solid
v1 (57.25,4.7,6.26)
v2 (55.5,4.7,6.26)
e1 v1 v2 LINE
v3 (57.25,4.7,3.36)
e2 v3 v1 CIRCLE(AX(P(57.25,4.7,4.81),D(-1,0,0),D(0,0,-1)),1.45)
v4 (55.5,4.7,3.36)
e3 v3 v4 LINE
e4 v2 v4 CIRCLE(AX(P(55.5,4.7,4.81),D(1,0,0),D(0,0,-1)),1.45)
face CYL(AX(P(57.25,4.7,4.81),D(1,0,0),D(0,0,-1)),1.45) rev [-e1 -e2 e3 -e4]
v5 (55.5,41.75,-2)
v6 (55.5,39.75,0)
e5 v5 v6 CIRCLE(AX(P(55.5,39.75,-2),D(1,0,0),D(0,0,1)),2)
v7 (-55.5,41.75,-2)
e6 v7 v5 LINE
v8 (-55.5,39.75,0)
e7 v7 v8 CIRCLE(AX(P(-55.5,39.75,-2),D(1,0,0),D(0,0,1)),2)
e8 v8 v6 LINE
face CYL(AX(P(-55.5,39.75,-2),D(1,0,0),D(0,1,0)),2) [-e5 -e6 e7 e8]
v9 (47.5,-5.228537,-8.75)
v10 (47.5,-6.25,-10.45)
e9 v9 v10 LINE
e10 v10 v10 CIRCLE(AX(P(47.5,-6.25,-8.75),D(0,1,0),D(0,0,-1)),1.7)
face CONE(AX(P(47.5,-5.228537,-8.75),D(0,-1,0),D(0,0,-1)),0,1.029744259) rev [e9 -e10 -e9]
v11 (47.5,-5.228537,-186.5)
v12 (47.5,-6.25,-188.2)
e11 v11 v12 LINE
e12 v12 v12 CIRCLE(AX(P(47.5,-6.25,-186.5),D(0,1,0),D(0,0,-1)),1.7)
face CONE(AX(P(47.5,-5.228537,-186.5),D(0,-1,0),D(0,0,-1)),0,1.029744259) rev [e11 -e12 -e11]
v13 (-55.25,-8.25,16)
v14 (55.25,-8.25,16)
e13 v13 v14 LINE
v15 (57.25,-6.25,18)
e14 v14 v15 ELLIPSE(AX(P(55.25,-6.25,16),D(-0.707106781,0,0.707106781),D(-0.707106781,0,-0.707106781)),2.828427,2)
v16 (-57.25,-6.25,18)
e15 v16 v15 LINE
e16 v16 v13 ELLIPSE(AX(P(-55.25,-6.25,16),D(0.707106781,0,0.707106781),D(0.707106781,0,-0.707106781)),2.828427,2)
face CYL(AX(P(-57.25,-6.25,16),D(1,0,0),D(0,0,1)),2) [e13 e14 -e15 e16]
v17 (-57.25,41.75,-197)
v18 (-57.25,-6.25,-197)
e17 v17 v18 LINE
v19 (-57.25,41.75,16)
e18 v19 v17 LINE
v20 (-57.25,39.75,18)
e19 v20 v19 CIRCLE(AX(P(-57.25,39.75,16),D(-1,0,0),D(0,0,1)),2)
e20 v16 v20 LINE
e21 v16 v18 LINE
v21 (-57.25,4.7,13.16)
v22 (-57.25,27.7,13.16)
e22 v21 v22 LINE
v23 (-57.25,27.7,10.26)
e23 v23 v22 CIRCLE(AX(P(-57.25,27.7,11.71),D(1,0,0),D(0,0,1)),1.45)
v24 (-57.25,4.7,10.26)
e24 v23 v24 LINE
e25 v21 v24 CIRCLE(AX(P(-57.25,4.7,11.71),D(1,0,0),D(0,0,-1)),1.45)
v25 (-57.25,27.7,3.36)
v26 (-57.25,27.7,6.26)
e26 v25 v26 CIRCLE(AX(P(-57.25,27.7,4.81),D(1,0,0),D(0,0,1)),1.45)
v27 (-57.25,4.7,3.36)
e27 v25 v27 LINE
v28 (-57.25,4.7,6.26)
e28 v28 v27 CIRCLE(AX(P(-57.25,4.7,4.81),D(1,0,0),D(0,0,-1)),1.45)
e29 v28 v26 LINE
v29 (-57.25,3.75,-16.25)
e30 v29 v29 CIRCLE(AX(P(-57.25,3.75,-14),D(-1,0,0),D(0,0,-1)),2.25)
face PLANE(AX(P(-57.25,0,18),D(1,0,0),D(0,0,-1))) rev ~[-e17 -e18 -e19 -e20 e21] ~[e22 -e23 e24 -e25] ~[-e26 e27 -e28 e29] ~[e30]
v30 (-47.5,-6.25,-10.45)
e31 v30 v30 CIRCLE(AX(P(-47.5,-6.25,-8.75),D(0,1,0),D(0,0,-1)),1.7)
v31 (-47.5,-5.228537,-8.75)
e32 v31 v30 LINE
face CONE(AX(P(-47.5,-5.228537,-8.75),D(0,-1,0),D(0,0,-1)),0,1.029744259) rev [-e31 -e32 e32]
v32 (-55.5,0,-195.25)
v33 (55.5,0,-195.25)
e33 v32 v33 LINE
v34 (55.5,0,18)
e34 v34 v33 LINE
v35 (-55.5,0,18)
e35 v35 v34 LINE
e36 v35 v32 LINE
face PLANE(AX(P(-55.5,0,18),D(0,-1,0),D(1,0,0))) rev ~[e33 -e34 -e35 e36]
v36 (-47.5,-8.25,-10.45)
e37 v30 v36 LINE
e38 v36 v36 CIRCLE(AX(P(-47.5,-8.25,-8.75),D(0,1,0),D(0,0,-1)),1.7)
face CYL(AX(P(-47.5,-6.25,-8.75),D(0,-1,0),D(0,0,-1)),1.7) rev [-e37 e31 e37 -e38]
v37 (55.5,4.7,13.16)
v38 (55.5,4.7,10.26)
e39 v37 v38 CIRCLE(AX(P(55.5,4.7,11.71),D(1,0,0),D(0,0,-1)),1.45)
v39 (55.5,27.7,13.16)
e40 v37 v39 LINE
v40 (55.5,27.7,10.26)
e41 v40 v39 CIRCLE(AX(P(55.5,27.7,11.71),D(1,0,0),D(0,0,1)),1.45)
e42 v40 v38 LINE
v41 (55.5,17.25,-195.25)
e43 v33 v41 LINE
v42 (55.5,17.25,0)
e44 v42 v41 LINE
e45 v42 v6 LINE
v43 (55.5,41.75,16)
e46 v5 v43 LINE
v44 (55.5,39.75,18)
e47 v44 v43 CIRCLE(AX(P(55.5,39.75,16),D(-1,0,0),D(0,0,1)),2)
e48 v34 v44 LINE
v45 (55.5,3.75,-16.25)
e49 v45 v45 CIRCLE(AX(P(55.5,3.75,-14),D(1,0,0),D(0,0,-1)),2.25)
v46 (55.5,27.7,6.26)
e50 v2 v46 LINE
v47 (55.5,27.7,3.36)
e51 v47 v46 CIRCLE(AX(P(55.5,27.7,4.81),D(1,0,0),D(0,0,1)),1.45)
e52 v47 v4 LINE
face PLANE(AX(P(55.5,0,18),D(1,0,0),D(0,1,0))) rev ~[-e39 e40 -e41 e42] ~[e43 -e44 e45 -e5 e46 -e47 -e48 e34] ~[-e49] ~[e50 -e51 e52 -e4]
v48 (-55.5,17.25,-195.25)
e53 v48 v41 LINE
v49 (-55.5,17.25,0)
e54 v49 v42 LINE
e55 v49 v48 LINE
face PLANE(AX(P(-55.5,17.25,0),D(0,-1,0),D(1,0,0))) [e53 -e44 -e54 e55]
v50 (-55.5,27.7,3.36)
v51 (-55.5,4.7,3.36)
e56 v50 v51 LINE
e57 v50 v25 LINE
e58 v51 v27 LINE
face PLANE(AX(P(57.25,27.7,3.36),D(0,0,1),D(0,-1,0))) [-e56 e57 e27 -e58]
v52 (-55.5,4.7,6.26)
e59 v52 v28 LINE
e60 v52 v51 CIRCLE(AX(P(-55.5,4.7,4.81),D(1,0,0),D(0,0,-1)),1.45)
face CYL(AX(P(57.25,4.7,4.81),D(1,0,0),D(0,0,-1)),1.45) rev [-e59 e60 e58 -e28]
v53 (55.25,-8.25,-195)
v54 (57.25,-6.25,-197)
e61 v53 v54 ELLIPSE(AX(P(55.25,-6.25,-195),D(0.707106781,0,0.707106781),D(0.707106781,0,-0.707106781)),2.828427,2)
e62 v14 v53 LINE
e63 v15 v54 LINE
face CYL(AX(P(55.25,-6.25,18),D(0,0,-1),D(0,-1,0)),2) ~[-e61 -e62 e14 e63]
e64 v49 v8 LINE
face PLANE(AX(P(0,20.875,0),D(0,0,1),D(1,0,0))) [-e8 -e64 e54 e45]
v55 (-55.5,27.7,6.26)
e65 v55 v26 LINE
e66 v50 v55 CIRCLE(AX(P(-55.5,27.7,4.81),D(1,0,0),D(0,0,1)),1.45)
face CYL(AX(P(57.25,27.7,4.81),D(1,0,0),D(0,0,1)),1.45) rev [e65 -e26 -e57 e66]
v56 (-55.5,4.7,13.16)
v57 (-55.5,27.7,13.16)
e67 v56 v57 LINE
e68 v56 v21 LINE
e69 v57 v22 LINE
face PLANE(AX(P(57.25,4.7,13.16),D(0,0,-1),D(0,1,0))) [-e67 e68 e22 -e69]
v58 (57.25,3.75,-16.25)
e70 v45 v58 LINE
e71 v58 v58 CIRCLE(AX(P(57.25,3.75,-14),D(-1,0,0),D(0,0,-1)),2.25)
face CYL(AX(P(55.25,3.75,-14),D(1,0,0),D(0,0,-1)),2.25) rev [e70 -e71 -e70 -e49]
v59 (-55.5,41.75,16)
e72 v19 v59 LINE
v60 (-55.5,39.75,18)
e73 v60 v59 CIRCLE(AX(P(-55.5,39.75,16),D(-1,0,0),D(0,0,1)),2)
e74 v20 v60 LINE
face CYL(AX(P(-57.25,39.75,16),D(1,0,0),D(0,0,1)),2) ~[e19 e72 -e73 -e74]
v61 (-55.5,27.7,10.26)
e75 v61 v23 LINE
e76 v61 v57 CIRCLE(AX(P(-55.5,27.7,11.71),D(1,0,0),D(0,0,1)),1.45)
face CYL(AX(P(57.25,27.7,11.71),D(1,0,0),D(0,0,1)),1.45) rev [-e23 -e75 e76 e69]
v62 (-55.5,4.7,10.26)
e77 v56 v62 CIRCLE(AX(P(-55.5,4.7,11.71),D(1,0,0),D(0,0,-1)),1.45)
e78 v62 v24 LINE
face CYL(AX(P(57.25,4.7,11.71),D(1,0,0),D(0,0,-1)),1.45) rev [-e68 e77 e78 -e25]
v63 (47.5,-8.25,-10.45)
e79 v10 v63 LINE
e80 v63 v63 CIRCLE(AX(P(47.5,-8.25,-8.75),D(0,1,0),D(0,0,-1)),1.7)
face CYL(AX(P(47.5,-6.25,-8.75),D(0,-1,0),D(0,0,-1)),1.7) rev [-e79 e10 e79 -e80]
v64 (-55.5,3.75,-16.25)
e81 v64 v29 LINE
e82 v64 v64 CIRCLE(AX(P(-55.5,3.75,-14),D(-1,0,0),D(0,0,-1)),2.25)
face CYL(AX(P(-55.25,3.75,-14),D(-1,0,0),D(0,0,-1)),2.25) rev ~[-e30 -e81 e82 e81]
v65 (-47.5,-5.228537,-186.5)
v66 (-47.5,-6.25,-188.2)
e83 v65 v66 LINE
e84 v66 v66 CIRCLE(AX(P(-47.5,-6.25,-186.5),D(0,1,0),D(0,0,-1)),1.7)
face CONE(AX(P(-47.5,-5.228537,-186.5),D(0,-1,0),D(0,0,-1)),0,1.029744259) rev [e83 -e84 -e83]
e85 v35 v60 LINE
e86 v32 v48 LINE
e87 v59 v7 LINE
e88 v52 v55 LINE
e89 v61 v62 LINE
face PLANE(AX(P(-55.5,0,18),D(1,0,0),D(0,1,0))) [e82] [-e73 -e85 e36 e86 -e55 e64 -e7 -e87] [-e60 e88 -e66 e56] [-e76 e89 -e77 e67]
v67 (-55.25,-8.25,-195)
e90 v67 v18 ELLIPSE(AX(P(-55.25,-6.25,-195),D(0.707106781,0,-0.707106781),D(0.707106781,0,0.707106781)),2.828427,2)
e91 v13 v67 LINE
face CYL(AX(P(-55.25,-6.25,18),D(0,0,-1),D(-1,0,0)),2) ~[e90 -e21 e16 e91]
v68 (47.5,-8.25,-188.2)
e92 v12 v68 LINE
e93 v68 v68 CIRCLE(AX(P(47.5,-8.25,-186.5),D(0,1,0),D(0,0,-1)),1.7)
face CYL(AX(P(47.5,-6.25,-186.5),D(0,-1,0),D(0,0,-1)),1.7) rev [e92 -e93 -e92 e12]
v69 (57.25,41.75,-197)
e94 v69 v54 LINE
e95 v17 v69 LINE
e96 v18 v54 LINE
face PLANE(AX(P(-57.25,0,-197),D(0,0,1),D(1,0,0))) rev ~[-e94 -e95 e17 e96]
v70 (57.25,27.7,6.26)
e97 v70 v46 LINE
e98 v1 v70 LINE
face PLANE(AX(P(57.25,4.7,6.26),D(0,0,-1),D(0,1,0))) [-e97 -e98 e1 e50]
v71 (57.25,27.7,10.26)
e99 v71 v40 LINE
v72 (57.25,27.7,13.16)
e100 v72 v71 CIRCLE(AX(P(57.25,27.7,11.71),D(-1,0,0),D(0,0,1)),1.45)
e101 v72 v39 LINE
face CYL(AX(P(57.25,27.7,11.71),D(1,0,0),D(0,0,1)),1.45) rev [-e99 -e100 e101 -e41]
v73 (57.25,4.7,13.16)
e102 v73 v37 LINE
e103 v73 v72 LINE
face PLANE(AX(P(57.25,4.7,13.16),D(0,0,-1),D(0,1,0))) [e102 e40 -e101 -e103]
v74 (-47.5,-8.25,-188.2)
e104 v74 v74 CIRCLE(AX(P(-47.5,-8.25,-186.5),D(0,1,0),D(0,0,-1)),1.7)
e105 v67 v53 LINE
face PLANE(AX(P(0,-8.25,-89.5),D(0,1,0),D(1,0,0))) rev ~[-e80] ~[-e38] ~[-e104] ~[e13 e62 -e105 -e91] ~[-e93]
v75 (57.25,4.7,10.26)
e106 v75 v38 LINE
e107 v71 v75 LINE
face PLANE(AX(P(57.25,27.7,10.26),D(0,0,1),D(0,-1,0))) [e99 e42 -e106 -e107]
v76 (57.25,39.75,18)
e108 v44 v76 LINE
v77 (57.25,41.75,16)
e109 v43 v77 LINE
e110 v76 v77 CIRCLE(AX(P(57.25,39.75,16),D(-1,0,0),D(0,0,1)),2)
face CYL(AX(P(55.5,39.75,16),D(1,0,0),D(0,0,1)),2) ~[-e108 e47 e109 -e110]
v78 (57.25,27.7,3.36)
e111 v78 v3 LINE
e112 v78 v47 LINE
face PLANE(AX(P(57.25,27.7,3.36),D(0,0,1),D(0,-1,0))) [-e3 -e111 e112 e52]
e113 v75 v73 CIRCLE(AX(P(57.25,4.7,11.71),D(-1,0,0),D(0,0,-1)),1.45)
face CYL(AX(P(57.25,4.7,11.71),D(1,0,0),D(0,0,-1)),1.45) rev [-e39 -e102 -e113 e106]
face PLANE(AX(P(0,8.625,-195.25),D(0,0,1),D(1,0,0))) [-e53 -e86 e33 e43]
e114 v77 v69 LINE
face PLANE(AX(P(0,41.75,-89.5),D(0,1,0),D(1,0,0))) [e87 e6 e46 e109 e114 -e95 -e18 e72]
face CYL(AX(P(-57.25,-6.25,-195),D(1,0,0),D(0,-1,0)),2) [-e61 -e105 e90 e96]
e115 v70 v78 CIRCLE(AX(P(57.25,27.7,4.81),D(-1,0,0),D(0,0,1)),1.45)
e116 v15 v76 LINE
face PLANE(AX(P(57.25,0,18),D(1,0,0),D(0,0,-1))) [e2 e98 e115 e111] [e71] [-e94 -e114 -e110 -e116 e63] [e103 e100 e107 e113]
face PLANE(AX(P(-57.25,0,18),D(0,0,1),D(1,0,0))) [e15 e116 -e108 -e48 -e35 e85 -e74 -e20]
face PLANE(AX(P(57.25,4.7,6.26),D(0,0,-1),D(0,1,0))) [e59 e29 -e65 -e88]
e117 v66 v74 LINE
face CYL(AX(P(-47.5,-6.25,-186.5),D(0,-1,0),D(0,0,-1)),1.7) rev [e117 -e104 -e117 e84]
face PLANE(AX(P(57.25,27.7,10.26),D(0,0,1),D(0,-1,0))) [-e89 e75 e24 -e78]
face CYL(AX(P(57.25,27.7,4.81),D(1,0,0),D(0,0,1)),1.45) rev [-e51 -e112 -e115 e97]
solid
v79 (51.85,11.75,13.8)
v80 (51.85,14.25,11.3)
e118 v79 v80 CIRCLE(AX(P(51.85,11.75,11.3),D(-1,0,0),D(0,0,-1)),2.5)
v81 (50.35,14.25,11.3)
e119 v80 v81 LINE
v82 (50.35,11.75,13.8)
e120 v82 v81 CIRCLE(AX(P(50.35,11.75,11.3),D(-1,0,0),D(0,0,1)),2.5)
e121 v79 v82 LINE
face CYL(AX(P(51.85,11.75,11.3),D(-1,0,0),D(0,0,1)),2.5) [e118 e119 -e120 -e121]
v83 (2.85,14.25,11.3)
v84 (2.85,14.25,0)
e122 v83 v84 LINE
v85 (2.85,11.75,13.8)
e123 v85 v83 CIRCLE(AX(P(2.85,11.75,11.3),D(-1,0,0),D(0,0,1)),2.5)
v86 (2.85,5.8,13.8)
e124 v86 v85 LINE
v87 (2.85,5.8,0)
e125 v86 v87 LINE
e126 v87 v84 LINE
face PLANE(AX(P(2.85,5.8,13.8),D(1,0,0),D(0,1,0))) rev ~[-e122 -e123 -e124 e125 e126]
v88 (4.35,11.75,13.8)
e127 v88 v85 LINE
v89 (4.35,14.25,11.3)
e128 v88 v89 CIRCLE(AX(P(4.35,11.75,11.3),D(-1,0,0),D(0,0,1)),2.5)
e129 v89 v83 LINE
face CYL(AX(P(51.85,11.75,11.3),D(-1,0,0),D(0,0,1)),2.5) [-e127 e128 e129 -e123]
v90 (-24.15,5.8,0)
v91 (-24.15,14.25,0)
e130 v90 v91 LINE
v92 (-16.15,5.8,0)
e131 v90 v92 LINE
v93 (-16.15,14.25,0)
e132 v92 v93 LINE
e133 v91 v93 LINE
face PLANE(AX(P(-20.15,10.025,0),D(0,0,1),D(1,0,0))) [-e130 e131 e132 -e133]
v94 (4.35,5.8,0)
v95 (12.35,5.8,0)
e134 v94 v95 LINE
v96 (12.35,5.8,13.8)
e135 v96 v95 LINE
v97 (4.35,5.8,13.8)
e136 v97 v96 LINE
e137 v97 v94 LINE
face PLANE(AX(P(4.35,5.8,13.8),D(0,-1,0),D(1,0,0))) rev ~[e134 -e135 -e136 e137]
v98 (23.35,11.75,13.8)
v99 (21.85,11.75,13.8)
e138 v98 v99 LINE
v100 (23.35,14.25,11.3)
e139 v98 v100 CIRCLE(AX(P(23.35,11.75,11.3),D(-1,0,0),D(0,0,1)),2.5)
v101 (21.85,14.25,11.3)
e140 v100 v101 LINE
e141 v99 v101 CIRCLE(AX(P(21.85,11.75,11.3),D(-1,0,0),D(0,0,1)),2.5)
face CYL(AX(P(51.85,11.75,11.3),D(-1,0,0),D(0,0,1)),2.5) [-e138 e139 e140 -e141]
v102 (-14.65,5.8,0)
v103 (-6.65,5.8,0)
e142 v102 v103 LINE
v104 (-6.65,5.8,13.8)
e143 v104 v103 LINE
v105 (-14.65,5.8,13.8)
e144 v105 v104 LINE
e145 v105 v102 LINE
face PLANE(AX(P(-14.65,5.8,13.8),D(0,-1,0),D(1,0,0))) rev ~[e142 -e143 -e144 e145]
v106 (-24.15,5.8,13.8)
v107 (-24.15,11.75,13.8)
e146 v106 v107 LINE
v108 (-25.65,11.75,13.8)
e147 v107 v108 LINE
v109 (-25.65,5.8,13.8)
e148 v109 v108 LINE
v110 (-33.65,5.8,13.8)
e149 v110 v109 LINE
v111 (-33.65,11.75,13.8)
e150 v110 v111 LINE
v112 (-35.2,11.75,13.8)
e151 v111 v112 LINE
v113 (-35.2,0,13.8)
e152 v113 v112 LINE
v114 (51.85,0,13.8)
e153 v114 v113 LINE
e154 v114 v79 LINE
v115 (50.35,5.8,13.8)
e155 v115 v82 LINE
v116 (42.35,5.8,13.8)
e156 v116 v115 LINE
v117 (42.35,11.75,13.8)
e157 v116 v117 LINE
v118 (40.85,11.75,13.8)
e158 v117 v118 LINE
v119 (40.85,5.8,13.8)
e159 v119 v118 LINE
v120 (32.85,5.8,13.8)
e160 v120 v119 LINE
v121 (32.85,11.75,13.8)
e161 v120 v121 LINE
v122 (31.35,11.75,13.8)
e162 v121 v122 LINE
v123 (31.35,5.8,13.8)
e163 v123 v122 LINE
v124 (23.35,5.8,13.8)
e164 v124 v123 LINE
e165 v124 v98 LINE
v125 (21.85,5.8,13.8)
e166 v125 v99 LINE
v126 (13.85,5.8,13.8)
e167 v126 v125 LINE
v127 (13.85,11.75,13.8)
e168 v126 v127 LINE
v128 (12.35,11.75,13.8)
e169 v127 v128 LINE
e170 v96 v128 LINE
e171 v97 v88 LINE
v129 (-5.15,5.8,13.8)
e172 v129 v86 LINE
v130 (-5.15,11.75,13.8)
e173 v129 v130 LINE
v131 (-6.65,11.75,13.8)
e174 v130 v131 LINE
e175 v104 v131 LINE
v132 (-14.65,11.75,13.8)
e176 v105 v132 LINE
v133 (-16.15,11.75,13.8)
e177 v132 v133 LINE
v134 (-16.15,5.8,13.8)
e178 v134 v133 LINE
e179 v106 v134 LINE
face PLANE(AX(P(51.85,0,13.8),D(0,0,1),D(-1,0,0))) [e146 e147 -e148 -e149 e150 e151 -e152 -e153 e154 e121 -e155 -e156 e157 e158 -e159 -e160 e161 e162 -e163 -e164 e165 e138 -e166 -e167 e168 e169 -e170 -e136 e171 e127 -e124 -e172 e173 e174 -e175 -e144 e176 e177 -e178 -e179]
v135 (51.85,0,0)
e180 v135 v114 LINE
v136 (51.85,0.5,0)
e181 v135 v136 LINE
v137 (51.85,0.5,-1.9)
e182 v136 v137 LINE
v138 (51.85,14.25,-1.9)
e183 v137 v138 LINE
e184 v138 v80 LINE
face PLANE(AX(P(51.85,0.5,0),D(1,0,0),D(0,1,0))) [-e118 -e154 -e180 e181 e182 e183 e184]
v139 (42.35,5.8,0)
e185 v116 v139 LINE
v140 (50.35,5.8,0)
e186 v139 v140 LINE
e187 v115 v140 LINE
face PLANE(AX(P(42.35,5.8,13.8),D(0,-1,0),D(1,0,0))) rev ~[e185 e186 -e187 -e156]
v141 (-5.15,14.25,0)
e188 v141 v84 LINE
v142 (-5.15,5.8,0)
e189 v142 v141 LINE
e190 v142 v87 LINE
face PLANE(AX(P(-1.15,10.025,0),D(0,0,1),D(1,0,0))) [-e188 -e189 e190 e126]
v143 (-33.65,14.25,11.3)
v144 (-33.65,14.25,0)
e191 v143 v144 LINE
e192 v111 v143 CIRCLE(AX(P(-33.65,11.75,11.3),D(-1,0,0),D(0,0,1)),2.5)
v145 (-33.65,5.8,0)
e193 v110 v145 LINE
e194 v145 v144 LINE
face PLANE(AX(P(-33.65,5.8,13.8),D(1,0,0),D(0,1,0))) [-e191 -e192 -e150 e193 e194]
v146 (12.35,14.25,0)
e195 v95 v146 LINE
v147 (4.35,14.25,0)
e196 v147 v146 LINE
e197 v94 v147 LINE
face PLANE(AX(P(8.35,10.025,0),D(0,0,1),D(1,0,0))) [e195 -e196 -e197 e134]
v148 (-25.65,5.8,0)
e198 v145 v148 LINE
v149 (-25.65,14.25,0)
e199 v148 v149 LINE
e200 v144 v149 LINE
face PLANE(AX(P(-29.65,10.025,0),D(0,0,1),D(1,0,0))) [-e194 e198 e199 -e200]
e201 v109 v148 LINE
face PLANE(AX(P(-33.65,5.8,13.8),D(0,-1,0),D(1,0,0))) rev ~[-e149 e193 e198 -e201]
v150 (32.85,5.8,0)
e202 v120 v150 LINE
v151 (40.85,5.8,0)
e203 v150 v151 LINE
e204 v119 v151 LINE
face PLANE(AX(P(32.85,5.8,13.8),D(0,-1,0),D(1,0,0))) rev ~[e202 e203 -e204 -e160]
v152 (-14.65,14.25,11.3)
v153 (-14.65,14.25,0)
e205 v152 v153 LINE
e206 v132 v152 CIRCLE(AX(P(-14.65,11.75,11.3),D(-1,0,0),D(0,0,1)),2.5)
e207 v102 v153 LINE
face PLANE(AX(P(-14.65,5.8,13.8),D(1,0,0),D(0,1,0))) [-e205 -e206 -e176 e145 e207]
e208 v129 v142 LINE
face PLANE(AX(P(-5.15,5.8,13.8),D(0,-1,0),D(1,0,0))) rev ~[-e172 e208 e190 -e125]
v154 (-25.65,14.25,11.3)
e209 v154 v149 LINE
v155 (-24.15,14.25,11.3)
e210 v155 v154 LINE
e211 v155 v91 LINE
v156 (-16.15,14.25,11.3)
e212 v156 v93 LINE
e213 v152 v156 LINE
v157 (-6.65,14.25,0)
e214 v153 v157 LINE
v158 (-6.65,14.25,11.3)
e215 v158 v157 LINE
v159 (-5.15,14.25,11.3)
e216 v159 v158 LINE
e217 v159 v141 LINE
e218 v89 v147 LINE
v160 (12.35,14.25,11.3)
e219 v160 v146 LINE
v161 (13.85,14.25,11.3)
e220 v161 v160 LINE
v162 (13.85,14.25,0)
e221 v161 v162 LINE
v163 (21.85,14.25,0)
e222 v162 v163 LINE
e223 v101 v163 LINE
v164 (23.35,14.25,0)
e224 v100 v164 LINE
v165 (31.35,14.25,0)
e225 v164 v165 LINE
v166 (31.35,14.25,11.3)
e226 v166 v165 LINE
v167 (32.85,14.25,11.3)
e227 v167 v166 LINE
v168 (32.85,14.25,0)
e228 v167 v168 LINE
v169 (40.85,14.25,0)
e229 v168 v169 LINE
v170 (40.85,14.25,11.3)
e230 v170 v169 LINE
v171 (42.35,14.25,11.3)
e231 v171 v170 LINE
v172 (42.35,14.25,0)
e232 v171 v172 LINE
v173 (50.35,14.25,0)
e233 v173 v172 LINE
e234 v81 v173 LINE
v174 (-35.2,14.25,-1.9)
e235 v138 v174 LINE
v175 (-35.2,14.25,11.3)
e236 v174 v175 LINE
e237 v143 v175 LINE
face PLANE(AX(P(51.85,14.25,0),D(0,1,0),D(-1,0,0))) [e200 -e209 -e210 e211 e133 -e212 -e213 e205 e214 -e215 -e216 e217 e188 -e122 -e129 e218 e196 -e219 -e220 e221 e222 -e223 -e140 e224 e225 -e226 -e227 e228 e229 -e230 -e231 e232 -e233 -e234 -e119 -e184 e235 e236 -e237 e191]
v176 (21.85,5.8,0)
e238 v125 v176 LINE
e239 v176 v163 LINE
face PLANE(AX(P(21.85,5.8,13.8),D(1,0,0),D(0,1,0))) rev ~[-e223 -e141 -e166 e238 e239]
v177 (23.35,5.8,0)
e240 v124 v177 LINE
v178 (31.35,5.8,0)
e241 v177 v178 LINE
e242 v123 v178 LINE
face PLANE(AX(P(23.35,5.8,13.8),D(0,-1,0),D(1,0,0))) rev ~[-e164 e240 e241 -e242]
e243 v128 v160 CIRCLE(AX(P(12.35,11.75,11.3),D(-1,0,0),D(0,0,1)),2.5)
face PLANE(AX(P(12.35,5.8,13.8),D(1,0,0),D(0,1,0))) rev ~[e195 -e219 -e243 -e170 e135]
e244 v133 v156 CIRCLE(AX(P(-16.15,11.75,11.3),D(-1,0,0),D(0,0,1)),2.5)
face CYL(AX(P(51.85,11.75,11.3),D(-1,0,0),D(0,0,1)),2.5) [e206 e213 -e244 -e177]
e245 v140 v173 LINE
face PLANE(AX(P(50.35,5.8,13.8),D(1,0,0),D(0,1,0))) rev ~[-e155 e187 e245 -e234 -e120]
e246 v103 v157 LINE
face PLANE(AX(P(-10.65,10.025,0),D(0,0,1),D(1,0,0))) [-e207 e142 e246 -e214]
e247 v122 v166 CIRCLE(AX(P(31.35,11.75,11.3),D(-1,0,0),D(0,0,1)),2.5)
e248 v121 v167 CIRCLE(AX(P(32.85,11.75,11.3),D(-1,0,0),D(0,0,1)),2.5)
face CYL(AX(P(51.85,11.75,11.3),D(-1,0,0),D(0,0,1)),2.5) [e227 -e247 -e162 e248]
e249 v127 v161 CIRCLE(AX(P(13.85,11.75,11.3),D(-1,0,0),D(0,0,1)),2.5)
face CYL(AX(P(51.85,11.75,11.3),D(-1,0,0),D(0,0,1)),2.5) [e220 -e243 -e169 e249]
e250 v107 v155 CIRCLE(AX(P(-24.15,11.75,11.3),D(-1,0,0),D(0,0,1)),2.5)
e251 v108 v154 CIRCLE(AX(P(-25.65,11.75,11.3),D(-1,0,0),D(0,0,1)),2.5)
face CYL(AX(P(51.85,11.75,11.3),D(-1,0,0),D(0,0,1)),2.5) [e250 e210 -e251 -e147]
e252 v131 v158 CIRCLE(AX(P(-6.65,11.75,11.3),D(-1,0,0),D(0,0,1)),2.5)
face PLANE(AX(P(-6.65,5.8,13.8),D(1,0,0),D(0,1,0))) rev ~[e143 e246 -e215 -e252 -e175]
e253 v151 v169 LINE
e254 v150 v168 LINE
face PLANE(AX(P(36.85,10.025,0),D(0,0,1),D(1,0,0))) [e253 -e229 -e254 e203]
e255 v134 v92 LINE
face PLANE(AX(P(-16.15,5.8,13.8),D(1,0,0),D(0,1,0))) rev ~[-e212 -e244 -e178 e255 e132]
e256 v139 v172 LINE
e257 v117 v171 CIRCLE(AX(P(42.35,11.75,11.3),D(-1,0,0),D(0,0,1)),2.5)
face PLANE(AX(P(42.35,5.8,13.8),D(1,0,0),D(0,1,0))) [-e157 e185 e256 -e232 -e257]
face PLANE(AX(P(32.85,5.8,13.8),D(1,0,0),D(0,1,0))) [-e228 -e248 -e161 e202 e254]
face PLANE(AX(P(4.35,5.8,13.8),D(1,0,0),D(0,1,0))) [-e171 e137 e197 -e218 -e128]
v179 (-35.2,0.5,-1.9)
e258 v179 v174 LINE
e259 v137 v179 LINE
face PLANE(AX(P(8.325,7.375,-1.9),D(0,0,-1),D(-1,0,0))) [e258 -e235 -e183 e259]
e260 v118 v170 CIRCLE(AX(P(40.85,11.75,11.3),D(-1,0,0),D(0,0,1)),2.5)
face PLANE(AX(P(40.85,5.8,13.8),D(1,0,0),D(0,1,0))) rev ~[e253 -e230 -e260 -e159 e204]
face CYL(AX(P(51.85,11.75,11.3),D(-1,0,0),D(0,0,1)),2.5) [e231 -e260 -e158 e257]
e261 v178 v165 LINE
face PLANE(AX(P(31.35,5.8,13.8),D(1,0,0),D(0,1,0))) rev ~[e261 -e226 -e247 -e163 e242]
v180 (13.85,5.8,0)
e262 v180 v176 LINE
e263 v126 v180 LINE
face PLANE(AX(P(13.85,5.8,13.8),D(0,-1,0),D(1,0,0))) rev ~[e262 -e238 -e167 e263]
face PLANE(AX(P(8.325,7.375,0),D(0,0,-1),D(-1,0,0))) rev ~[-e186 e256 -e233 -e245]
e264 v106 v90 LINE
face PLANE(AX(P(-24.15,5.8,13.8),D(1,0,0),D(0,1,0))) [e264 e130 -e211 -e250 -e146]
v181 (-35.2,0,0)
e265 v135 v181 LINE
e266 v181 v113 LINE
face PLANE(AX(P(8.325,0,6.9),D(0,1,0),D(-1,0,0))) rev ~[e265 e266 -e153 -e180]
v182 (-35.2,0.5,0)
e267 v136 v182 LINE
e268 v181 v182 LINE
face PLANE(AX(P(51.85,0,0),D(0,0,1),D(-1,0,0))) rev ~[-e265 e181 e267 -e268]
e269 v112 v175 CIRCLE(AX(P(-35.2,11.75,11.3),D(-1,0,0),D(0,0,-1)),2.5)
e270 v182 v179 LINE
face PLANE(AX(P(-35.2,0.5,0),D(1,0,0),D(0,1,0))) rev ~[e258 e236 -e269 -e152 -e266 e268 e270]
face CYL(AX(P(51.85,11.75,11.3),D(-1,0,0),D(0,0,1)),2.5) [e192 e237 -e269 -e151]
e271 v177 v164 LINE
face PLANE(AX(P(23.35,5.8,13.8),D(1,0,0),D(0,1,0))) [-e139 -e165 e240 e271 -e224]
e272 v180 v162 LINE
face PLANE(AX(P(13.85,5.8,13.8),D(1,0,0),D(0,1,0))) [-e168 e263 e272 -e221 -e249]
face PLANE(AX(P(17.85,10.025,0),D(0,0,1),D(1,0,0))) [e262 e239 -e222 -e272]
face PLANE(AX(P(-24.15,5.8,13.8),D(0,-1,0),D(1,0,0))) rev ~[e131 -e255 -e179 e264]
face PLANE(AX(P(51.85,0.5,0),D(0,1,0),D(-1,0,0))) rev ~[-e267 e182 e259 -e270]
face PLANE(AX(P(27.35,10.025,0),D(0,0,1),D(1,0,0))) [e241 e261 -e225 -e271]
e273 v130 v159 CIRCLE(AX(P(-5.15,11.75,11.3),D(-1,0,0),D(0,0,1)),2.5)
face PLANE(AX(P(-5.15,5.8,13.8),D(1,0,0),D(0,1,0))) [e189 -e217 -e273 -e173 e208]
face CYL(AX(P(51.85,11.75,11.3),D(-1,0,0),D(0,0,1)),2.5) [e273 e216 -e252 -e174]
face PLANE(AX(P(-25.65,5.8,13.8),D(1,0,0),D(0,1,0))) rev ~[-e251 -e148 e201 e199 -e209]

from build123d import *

# Parameters (mm, degrees)
SKETCH1_W                     = 114.5
SKETCH1_H                     = 215
BOSS_EXTRUDE1_DEPTH           = 41.75
BOSS_EXTRUDE1_DEPTH_BACK      = 8.25
SKETCH2_W                     = 111
SKETCH2_H                     = 41.75
CUT_EXTRUDE1_DEPTH            = 18
CUT_EXTRUDE2_DEPTH            = 115.5
FILLET1_R                     = 2
SKETCH4_W                     = 87.05
SKETCH4_H                     = 13.8
BOSS_EXTRUDE2_DEPTH           = 14.25
SKETCH7_W                     = 111
SKETCH7_H                     = 17.25
CUT_EXTRUDE4_DEPTH            = 195.25
FILLET2_R                     = 2.5
SKETCH6_W                     = 8
SKETCH6_H                     = 8.45
CUT_EXTRUDE3_DEPTH            = 13.8
SKETCH9_W                     = 87.05
SKETCH9_H                     = 13.75
BOSS_EXTRUDE6_DEPTH           = 1.9
LPATTERN1_COUNT               = 9
LPATTERN1_PITCH               = 9.5
M3_CLEARANCE_HOLE2_AT_2_COUNT = 2
M3_CLEARANCE_HOLE2_AT_2_PITCH = 95
M3_CLEARANCE_HOLE2_AT_3_COUNT = 2
M3_CLEARANCE_HOLE2_AT_3_PITCH = 201.544194905
M3_CLEARANCE_HOLE2_AT_4_COUNT = 2
M3_CLEARANCE_HOLE2_AT_4_PITCH = 177.75


with BuildPart() as part:
    # Sketch1 → Boss-Extrude1 (new body, two sides)
    with BuildSketch(Plane(origin=(0, 0, 0), x_dir=(1, 0, 0), z_dir=(0, 1, 0))) as boss_extrude1_sk:
        with Locations((0, 89.5)):
            Rectangle(SKETCH1_W, SKETCH1_H)
    extrude(amount=BOSS_EXTRUDE1_DEPTH)
    extrude(boss_extrude1_sk.sketch, amount=-BOSS_EXTRUDE1_DEPTH_BACK)

    # Sketch2 → Cut-Extrude1 (cut)
    with BuildSketch(Plane.XY.offset(18)):
        with Locations((0, 20.875)):
            Rectangle(SKETCH2_W, SKETCH2_H)
    extrude(amount=-CUT_EXTRUDE1_DEPTH, mode=Mode.SUBTRACT)

    # Sketch3 → Cut-Extrude2 (cut, through all)
    with BuildSketch(Plane(origin=(57.25, 0, 0), x_dir=(0, 0, -1), z_dir=(1, 0, 0))):
        with BuildLine():
            Line((-10.26, 27.7), (-10.26, 4.7))
            ThreePointArc((-10.26, 4.7), (-11.71, 3.25), (-13.16, 4.7))
            Line((-13.16, 4.7), (-13.16, 27.7))
            ThreePointArc((-13.16, 27.7), (-11.71, 29.15), (-10.26, 27.7))
        make_face()
        with BuildLine():
            Line((-3.36, 27.7), (-3.36, 4.7))
            ThreePointArc((-3.36, 4.7), (-4.81, 3.25), (-6.26, 4.7))
            Line((-6.26, 4.7), (-6.26, 27.7))
            ThreePointArc((-6.26, 27.7), (-4.81, 29.15), (-3.36, 27.7))
        make_face()
    extrude(amount=-CUT_EXTRUDE2_DEPTH, mode=Mode.SUBTRACT)

    # Fillet1
    fillet1_edges = [part.edges().sort_by_distance(p)[0] for p in [
        (57.25, -8.25, -89.5),
        (-56.375, 41.75, 18),
        (0, -8.25, -197),
        (56.375, 41.75, 18),
        (0, 41.75, 0),
        (-57.25, -8.25, -89.5),
        (0, -8.25, 18),
    ]]
    fillet(fillet1_edges, radius=FILLET1_R)

    # Sketch7 → Cut-Extrude4 (cut)
    with BuildSketch(Plane.XY):
        with Locations((0, 8.625)):
            Rectangle(SKETCH7_W, SKETCH7_H)
    extrude(amount=-CUT_EXTRUDE4_DEPTH, mode=Mode.SUBTRACT)

    # Sketch13 → M3 Clearance Hole2 (revolve, cut)
    with BuildSketch(Plane(origin=(-47.5, -8.25, -8.75), x_dir=(0, 0, -1), z_dir=(1, 0, 0))):
        Polygon((0, 0), (0, 3.021463052), (1.7, 2), (1.7, 0), align=None)
    m3_clearance_hole2 = revolve(axis=Axis((-47.5, -14.6, -8.75), (0, 1, 0)), mode=Mode.SUBTRACT)

    # M3 Clearance Hole2 at 2: M3 Clearance Hole2 ×2
    with Locations(*[(i * M3_CLEARANCE_HOLE2_AT_2_PITCH, 0, 0) for i in range(1, M3_CLEARANCE_HOLE2_AT_2_COUNT)]):
        add(m3_clearance_hole2, mode=Mode.SUBTRACT)

    # M3 Clearance Hole2 at 3: M3 Clearance Hole2 ×2
    with Locations(*[Vector(0.471360637, 0, -0.881940559) * (i * M3_CLEARANCE_HOLE2_AT_3_PITCH) for i in range(1, M3_CLEARANCE_HOLE2_AT_3_COUNT)]):
        add(m3_clearance_hole2, mode=Mode.SUBTRACT)

    # M3 Clearance Hole2 at 4: M3 Clearance Hole2 ×2
    with Locations(*[(0, 0, -i * M3_CLEARANCE_HOLE2_AT_4_PITCH) for i in range(1, M3_CLEARANCE_HOLE2_AT_4_COUNT)]):
        add(m3_clearance_hole2, mode=Mode.SUBTRACT)

    # Sketch15 → M4 Clearance Hole1 (revolve, cut)
    with BuildSketch(Plane(origin=(57.25, 3.75, -14), x_dir=(0, 0, -1), z_dir=(0, 1, 0))):
        Polygon((0, 0), (0, 3.351936393), (2.25, 2), (2.25, 0), align=None)
    m4_clearance_hole1 = revolve(axis=Axis((63.6, 3.75, -14), (-1, 0, 0)), mode=Mode.SUBTRACT)

    # M4 Hole Other Side: M4 Clearance Hole1 across plane
    add(m4_clearance_hole1.mirror(Plane(origin=(0, 0, 0), x_dir=(0, 0, 1), z_dir=(1, 0, 0))), mode=Mode.SUBTRACT)


with BuildPart() as body_2:
    # Sketch4 → Boss-Extrude2 (new body)
    with BuildSketch(Plane(origin=(0, 0, 0), x_dir=(-1, 0, 0), z_dir=(0, 1, 0))):
        with Locations((-8.325, 6.9)):
            Rectangle(SKETCH4_W, SKETCH4_H)
    extrude(amount=BOSS_EXTRUDE2_DEPTH)

    # Fillet2
    fillet2_edges = [body_2.edges().sort_by_distance(p)[0] for p in [
        (8.325, 14.25, 13.8),
    ]]
    fillet(fillet2_edges, radius=FILLET2_R)

    # Sketch6 → Cut-Extrude3 (cut)
    with BuildSketch(Plane.XY.offset(13.8)):
        with Locations((46.35, 10.025)):
            Rectangle(SKETCH6_W, SKETCH6_H)
    cut_extrude3 = extrude(amount=-CUT_EXTRUDE3_DEPTH, mode=Mode.SUBTRACT)

    # Sketch9 → Boss-Extrude6 (add)
    with BuildSketch(Plane(origin=(0, 0, 0), x_dir=(-1, 0, 0), z_dir=(0, 0, -1))):
        with Locations((-8.325, 7.375)):
            Rectangle(SKETCH9_W, SKETCH9_H)
    extrude(amount=BOSS_EXTRUDE6_DEPTH)

    # LPattern1: Cut-Extrude3 ×9
    with Locations(*[(-i * LPATTERN1_PITCH, 0, 0) for i in range(1, LPATTERN1_COUNT)]):
        add(cut_extrude3, mode=Mode.SUBTRACT)


solid = Compound([part.part, body_2.part])
